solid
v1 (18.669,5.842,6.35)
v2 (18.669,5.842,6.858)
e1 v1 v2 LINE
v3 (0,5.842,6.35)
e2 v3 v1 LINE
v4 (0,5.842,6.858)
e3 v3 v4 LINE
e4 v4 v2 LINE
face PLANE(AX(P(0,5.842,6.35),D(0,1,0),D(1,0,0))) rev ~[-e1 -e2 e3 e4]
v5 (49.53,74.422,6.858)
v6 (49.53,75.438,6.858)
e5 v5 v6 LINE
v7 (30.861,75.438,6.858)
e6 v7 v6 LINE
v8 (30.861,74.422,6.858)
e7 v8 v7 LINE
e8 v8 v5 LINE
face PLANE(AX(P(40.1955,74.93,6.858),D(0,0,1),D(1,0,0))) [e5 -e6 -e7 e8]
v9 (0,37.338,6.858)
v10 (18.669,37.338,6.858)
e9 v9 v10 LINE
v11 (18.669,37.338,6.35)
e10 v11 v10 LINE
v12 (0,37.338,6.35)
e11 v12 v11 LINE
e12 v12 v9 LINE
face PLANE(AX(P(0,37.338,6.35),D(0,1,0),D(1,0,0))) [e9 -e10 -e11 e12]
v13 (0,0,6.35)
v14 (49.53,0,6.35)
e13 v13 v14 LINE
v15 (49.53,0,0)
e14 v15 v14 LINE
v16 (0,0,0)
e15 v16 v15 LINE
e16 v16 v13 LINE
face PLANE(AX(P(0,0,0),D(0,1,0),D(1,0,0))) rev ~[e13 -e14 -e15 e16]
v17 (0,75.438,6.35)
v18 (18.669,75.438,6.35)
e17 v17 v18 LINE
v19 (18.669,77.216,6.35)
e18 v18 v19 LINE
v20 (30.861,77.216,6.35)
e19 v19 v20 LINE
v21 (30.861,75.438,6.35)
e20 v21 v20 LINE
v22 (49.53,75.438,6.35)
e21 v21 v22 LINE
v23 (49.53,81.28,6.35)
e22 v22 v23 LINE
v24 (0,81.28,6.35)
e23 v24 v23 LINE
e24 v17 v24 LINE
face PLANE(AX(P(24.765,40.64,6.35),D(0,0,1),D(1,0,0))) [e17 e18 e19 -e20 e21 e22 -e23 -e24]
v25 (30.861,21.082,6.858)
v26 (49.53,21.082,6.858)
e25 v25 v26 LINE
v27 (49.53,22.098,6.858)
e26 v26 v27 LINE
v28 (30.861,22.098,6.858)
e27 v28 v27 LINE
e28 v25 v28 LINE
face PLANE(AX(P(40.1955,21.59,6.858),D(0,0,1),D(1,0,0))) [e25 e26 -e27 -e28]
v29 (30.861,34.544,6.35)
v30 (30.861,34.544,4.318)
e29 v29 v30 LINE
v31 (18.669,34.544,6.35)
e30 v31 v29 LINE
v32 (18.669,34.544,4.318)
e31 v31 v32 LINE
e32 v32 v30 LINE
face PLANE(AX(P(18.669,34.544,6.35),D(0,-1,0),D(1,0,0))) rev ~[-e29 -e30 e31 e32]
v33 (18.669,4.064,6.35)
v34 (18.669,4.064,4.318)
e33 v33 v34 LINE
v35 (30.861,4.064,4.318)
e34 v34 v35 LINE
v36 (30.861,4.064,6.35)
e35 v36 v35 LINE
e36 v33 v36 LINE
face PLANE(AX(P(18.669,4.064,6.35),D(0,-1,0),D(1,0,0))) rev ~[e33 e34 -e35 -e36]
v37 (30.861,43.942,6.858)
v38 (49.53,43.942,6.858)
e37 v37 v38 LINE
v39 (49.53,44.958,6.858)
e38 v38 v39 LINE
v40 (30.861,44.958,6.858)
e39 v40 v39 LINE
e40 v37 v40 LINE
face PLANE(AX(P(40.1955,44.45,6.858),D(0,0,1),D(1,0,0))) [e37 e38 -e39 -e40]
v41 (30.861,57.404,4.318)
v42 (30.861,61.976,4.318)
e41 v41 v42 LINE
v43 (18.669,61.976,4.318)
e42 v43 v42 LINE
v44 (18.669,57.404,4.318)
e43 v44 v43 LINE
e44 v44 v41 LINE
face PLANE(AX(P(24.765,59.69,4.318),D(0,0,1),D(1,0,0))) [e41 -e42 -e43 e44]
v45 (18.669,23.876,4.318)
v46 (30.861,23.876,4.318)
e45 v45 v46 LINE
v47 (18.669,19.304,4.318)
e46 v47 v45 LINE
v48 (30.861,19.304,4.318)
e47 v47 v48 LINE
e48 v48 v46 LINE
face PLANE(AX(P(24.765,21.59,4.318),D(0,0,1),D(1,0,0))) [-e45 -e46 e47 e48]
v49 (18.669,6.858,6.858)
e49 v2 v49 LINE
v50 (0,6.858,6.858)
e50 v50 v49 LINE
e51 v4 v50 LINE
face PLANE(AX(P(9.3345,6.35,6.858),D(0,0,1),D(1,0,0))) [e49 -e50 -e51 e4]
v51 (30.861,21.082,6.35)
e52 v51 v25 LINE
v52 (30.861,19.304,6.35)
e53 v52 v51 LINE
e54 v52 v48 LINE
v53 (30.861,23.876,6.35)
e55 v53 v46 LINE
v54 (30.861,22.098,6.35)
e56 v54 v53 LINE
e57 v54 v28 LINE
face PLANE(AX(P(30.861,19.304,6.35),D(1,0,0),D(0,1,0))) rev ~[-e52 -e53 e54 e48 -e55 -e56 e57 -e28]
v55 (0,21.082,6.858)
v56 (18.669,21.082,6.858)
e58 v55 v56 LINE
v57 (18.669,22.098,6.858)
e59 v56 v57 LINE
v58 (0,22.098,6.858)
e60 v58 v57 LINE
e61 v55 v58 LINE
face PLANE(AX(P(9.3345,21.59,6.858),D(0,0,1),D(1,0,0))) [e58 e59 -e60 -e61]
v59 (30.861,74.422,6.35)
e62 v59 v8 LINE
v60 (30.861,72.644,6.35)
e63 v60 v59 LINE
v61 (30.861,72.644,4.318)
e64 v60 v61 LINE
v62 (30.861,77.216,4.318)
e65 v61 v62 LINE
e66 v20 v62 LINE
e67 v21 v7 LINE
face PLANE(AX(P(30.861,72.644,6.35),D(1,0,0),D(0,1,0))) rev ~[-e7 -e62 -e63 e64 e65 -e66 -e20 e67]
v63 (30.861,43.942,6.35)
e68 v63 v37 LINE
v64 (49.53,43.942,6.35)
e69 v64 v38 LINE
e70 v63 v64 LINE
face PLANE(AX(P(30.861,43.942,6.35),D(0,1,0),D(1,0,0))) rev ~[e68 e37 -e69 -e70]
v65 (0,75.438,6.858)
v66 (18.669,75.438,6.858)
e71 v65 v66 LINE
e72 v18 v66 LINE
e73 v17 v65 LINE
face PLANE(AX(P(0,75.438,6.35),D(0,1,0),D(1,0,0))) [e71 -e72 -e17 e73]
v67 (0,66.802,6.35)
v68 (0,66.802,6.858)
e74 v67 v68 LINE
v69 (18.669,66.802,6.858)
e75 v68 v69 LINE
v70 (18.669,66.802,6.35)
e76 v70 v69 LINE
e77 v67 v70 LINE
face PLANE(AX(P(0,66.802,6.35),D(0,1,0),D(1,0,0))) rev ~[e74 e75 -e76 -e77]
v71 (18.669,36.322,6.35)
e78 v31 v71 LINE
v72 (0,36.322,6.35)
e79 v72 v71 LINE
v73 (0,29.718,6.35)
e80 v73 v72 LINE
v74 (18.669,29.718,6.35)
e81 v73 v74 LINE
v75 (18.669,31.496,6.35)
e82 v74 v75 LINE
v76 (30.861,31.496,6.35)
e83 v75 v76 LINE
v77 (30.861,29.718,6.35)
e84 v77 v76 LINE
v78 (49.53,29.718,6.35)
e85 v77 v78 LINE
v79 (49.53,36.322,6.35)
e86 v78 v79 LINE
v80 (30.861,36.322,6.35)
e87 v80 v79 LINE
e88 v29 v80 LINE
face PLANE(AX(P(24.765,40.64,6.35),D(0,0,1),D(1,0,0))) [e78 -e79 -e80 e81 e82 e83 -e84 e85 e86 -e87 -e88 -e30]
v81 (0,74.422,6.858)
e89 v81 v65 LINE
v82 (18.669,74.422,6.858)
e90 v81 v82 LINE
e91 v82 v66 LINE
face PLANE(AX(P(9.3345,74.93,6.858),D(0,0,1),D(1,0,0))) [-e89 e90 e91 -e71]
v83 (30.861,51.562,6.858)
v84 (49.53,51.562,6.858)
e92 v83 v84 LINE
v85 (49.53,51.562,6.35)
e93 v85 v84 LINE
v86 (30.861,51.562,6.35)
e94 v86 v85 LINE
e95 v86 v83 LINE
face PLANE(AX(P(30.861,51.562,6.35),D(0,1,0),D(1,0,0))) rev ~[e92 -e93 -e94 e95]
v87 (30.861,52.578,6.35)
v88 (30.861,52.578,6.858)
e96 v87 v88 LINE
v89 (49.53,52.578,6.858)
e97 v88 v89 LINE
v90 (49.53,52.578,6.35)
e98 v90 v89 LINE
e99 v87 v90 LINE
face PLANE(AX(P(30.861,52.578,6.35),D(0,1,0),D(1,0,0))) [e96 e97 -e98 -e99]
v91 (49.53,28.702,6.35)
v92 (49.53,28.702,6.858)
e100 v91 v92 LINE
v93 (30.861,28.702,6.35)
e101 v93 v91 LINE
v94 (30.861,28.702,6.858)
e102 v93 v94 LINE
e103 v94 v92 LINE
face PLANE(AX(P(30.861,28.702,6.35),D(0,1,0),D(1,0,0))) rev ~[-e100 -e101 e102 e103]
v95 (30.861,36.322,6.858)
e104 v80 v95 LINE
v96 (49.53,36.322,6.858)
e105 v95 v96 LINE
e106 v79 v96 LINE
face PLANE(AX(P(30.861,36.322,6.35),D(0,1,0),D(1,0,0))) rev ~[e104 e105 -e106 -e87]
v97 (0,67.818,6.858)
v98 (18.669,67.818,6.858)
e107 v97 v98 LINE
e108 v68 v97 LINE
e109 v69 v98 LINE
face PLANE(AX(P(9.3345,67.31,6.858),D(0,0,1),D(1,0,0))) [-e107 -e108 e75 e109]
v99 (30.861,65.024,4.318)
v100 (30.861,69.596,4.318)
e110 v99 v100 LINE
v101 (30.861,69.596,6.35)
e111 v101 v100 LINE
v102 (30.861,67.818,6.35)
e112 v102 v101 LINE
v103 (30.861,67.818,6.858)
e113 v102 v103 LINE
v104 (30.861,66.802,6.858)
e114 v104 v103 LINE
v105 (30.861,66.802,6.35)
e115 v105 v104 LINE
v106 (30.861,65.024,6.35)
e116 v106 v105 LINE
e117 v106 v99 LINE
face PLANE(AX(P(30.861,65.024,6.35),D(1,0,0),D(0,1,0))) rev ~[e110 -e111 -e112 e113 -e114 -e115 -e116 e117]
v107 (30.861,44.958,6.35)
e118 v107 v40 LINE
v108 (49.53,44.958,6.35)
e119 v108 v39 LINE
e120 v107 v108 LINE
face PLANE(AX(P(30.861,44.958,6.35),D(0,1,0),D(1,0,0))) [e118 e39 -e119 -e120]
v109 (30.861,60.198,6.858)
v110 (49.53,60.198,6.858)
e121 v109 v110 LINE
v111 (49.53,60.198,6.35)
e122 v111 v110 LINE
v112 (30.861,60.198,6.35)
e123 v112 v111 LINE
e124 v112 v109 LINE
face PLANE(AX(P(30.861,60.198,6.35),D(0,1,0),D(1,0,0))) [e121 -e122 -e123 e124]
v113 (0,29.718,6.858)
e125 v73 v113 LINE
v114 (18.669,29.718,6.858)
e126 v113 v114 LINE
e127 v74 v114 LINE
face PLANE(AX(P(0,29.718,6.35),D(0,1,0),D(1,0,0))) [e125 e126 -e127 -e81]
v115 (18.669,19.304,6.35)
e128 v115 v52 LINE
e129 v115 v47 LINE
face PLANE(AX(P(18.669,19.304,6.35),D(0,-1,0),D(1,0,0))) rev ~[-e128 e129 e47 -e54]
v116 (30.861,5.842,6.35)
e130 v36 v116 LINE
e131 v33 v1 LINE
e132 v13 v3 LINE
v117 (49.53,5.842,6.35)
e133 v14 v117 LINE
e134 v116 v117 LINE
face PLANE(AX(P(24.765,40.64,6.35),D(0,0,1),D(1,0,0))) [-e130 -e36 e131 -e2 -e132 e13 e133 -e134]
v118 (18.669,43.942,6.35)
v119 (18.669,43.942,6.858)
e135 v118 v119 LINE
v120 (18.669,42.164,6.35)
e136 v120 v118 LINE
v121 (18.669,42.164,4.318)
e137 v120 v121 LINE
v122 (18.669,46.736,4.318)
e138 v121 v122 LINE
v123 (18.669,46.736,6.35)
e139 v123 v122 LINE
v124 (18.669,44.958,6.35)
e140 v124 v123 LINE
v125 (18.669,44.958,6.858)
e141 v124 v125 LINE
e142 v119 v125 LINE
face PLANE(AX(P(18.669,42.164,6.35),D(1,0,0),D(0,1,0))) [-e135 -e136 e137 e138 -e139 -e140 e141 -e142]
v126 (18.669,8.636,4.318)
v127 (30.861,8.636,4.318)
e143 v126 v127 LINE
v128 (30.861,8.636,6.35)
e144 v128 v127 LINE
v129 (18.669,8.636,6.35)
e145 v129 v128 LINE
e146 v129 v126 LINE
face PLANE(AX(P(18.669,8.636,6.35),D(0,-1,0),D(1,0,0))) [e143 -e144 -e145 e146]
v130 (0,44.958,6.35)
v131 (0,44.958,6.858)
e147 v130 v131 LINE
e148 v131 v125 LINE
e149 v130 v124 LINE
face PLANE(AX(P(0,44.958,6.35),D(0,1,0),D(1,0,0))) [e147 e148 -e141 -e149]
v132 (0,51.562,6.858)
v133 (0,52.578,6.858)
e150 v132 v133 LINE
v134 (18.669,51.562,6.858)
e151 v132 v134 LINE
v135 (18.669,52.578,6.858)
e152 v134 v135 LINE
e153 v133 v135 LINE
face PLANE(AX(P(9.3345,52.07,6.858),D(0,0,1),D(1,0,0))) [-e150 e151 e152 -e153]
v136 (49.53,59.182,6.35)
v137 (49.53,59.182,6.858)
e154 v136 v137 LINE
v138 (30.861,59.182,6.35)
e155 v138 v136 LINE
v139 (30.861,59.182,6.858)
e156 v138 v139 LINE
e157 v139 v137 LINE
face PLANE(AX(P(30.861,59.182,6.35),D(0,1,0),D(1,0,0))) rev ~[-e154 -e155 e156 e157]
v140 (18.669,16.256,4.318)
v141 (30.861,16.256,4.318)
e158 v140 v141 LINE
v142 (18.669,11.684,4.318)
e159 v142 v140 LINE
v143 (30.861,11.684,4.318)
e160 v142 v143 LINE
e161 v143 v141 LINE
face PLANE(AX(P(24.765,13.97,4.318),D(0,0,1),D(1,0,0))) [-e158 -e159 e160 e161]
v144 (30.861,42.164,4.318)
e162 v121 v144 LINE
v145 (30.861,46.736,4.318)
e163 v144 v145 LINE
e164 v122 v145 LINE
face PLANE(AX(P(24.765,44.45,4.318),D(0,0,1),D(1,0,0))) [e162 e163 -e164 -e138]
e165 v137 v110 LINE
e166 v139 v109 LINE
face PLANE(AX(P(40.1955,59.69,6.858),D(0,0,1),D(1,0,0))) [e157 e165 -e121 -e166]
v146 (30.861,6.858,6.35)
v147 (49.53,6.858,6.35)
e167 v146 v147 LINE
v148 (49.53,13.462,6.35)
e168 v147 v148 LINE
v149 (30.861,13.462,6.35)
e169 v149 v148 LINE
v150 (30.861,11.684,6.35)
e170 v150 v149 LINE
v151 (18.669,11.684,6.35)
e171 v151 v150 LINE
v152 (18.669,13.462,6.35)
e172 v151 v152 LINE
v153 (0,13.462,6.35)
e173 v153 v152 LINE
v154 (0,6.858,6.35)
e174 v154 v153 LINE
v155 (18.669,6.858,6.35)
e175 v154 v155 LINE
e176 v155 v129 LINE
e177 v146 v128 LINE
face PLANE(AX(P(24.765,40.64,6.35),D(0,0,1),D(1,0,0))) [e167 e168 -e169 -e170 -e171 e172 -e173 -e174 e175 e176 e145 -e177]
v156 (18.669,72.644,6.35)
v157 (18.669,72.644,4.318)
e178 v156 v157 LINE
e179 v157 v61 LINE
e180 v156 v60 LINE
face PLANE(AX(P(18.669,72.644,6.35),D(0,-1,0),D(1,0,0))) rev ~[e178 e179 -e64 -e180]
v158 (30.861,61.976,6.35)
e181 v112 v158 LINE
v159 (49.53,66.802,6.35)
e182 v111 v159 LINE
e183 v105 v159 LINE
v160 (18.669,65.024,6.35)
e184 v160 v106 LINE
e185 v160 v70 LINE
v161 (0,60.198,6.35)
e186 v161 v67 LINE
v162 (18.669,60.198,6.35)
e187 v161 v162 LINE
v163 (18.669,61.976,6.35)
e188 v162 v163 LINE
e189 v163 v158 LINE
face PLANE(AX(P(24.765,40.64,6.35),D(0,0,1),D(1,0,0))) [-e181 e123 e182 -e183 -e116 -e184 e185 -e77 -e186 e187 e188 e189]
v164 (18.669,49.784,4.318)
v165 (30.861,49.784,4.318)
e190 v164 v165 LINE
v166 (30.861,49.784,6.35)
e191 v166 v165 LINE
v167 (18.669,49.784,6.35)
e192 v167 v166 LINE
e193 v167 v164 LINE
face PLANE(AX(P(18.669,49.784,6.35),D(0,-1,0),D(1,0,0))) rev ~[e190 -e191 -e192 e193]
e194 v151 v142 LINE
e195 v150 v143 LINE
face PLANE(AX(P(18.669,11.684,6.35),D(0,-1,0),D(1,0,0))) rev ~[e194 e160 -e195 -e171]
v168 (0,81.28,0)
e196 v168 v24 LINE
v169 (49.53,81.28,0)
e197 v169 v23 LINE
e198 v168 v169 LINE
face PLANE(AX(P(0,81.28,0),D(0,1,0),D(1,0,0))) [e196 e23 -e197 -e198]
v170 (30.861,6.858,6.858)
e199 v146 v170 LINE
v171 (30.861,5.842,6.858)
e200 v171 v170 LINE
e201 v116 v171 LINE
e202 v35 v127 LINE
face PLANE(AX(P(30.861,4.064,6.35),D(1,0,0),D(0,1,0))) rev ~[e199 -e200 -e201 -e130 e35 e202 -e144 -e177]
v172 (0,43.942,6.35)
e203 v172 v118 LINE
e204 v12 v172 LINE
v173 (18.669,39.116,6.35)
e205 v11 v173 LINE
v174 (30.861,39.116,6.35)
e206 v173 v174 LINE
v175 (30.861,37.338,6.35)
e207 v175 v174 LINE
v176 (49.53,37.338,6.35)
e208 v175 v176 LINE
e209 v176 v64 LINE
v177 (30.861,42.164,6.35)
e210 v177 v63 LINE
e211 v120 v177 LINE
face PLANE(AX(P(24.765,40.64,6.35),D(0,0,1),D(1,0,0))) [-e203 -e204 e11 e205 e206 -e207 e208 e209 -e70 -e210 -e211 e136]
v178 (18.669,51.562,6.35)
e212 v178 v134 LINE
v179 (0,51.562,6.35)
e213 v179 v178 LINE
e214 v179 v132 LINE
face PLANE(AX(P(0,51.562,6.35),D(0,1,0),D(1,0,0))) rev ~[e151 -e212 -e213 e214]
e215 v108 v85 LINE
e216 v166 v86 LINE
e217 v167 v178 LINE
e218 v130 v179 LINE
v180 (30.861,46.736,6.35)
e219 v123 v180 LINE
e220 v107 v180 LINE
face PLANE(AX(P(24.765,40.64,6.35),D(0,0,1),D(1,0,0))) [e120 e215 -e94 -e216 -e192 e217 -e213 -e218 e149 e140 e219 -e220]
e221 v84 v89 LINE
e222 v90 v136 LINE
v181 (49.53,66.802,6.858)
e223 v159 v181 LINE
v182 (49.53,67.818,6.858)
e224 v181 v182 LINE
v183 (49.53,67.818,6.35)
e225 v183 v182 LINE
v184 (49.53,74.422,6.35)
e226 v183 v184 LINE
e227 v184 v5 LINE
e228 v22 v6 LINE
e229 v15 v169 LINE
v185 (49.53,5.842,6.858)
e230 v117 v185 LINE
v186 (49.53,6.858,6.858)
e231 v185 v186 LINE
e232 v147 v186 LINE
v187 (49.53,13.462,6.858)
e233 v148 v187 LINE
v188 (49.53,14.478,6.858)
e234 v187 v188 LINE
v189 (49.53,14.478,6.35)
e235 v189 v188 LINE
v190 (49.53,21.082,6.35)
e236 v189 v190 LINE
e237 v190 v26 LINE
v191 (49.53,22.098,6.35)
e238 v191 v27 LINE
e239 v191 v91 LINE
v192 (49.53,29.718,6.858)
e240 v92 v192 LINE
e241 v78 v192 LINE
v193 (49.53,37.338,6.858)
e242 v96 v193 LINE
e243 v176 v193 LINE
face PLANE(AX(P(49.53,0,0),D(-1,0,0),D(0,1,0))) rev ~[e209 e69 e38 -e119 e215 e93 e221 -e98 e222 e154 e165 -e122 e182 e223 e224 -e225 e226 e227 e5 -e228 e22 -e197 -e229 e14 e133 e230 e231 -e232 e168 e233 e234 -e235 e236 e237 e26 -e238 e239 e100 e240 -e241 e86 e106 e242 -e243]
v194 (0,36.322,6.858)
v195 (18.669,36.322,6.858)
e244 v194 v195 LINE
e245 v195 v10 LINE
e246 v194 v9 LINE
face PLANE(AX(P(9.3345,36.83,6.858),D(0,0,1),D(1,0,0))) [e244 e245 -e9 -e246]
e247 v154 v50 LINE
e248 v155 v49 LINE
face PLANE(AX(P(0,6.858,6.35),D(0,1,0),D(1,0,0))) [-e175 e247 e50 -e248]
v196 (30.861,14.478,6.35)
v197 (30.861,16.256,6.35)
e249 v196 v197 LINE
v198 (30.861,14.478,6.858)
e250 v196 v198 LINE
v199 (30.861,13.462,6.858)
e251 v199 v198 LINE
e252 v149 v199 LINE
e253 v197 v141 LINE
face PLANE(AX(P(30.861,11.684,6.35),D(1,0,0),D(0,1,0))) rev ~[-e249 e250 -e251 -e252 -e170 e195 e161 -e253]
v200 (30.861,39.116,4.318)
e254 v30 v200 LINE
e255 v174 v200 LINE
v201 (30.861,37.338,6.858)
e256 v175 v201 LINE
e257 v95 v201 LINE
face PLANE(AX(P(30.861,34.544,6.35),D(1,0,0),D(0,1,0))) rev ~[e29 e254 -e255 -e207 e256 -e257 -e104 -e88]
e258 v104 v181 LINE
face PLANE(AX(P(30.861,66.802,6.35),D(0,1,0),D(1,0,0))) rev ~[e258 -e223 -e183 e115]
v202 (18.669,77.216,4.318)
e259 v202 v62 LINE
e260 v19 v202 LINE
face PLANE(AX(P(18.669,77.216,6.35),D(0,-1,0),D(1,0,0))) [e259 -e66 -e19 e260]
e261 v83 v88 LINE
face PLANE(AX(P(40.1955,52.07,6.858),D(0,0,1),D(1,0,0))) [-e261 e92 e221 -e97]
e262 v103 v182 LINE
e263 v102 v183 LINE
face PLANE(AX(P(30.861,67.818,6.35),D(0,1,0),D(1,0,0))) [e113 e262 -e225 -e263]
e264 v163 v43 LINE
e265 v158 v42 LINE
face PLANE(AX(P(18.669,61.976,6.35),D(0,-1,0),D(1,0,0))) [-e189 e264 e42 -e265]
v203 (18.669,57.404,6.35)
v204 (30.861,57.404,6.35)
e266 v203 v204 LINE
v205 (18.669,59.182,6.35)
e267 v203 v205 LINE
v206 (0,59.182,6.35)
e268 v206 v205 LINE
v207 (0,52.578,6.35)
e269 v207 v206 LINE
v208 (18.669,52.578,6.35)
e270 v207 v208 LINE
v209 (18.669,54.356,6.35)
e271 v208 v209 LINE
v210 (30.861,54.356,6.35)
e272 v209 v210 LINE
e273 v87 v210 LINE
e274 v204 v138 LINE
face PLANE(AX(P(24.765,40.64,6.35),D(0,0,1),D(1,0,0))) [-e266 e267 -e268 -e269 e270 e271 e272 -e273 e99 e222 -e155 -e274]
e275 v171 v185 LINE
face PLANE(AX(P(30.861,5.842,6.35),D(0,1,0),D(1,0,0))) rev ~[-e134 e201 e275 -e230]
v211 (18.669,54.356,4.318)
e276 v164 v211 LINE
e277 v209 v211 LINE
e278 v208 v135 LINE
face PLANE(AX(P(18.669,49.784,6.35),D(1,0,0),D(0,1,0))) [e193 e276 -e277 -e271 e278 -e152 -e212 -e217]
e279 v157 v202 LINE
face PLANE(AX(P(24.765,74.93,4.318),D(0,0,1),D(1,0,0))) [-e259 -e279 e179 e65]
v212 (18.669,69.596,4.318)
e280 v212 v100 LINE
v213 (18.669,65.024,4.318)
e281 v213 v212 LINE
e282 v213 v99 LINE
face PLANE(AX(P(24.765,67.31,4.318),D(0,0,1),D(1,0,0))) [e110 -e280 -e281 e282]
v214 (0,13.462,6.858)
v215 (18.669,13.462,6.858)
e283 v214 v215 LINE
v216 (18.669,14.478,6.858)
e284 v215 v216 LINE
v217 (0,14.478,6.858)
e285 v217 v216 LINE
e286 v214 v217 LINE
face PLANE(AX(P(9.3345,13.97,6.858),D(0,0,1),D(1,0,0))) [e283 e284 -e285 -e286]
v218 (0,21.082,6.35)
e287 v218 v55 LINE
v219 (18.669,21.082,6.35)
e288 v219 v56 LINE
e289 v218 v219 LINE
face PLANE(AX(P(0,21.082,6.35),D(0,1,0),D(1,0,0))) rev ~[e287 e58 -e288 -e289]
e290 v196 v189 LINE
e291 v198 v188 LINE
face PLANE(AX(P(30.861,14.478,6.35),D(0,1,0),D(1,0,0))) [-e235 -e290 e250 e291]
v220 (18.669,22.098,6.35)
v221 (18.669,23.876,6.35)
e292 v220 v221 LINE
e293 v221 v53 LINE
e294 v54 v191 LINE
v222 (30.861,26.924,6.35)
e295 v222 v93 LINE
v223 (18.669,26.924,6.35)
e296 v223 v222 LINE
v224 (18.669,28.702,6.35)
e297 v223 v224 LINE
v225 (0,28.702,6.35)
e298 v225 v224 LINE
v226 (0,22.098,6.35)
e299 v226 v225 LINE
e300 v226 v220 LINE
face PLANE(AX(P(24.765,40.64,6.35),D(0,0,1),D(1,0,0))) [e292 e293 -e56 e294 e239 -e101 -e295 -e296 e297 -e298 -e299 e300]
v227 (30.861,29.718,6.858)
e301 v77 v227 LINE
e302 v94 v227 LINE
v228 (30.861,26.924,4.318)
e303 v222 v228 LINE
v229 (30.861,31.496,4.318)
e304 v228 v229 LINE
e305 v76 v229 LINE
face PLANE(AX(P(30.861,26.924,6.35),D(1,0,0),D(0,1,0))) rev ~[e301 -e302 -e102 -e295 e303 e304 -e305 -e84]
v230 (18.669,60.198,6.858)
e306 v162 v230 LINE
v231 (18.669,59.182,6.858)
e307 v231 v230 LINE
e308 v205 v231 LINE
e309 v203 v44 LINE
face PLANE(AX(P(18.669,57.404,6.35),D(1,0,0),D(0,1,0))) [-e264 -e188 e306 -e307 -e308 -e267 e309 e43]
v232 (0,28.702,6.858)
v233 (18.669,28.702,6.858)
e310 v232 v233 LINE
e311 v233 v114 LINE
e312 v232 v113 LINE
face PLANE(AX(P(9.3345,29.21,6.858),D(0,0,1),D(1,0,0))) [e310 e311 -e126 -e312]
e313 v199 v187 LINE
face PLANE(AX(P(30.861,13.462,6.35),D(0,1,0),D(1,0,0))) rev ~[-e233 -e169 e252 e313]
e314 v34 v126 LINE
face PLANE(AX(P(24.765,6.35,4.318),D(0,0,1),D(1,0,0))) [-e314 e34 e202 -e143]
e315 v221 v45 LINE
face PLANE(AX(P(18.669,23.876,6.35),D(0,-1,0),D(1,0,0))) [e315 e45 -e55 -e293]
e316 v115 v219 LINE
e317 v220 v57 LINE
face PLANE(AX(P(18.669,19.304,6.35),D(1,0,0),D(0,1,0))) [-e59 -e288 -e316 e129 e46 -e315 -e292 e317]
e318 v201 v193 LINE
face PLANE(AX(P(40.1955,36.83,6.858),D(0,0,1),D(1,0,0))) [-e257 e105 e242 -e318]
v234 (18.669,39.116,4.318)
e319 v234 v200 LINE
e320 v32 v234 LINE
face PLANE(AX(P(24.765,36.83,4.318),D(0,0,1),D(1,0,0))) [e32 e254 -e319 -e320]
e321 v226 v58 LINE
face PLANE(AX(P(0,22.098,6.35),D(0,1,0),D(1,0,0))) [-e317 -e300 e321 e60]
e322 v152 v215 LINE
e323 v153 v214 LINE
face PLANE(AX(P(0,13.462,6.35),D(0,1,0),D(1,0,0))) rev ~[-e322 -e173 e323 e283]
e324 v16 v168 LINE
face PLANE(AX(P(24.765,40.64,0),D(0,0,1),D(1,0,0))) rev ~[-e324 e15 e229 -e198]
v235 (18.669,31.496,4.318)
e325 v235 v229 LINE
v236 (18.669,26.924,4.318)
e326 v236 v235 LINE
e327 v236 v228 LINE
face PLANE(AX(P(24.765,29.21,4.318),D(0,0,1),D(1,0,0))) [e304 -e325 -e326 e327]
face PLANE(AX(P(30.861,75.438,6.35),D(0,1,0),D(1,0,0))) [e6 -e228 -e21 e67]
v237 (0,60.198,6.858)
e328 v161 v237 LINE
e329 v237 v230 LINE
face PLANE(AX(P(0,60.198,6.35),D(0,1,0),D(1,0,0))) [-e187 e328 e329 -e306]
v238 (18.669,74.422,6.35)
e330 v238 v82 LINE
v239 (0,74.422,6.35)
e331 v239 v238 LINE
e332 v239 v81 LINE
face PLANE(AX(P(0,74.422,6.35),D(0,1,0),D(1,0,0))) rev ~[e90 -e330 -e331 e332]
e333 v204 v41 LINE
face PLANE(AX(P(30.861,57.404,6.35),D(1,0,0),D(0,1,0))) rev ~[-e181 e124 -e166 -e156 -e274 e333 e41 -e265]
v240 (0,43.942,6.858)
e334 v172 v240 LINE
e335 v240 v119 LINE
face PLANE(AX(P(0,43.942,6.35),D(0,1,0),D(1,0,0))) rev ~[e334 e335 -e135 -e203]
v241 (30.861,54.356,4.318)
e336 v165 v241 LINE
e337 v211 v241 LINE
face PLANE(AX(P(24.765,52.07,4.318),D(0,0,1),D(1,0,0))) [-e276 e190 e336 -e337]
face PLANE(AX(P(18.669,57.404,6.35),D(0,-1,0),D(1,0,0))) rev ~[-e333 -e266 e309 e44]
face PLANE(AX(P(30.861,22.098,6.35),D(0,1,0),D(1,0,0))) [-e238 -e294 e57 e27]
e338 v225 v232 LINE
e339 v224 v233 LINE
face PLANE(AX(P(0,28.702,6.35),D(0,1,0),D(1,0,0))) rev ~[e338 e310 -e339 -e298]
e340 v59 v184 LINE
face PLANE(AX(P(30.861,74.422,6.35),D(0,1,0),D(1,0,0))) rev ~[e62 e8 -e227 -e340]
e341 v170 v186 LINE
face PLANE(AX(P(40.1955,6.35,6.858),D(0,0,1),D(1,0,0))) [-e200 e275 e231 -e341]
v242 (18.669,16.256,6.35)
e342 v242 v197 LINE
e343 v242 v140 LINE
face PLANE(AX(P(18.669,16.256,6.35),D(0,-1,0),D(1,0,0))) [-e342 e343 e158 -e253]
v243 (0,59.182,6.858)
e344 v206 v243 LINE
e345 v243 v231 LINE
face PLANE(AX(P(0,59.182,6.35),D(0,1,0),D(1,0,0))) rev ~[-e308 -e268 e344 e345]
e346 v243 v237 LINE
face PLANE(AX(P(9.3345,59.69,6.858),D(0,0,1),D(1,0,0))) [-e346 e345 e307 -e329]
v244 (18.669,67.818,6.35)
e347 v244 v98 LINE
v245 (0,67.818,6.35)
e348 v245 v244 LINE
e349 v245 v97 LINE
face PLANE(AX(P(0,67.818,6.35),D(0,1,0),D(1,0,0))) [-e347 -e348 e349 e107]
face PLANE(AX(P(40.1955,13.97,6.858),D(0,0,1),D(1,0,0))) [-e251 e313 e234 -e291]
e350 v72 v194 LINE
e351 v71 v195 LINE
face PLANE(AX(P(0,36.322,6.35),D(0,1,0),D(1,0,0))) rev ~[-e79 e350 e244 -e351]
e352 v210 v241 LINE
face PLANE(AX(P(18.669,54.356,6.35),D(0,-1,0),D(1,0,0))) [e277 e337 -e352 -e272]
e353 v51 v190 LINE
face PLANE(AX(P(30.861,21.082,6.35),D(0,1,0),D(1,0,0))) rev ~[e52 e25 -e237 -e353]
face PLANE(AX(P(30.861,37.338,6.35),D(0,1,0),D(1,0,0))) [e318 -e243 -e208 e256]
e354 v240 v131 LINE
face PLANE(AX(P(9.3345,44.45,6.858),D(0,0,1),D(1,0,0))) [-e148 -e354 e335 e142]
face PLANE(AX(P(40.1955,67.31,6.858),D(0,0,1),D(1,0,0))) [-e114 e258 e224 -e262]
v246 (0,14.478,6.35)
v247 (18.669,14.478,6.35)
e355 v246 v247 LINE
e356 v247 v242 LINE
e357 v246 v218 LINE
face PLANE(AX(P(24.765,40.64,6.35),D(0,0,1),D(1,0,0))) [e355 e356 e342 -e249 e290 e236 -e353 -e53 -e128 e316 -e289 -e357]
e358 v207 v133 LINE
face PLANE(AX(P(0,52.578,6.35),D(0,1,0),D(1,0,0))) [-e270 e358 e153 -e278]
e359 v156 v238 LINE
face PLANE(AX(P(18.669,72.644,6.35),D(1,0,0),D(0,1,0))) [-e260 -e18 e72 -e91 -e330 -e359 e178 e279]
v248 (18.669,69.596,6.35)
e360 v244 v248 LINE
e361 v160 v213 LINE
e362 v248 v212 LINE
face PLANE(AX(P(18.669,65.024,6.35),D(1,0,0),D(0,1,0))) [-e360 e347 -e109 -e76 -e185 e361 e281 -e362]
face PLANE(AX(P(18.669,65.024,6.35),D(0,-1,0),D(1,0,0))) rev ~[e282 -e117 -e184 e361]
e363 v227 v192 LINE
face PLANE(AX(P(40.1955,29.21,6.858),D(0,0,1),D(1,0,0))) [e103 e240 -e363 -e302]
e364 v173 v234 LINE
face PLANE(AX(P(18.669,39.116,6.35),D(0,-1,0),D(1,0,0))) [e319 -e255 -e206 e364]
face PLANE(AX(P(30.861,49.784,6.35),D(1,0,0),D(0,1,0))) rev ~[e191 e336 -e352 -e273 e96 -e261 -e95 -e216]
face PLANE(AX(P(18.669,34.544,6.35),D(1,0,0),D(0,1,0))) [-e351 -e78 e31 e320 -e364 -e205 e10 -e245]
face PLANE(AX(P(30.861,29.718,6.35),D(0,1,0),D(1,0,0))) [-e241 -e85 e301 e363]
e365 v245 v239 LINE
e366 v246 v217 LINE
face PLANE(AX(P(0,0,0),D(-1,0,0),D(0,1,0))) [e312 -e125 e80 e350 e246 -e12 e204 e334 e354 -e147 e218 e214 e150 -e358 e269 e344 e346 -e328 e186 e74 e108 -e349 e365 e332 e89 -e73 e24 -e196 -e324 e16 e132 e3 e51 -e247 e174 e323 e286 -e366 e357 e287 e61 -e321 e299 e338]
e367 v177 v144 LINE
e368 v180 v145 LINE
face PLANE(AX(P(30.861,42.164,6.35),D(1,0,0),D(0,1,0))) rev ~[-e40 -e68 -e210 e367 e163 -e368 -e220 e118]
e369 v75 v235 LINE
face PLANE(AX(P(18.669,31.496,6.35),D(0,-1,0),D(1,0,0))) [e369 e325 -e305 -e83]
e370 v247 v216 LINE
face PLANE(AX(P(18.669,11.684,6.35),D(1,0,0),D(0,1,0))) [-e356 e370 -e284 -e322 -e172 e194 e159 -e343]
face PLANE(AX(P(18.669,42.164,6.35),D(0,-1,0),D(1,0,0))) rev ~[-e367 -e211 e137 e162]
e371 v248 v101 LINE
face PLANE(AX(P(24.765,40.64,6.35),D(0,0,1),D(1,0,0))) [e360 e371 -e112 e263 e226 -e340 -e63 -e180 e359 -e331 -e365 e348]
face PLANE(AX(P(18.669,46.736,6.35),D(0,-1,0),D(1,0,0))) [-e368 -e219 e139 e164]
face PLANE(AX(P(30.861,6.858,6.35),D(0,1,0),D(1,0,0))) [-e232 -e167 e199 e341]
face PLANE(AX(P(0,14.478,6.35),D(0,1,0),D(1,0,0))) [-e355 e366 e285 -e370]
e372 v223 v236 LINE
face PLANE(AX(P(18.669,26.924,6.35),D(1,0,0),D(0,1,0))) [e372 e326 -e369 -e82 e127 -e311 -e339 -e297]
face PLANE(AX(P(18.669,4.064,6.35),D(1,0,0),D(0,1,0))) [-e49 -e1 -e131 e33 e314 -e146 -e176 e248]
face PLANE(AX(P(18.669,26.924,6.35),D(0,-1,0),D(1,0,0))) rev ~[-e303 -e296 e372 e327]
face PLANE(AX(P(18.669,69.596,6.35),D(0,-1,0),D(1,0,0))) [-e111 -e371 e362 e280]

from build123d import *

# Parameters (mm, degrees)
F0_W     = 49.53
F0_H     = 81.28
F1_DEPTH = 6.35
F2_W     = 12.192
F2_H     = 4.572
F3_DEPTH = 2.032
F4_W     = 18.669
F4_H     = 1.016
F5_DEPTH = 0.508


with BuildPart() as f1:
    # F0 (on Top) → F1 (new body)
    with BuildSketch(Plane.XY):
        with Locations((24.765, 40.64)):
            Rectangle(F0_W, F0_H)
    extrude(amount=F1_DEPTH)

    # F2 (on face) → F3 (cut)
    with BuildSketch(Plane.XY.offset(6.35)):
        with Locations((24.765, 6.35)):
            Rectangle(F2_W, F2_H)
        with Locations((24.765, 13.97)):
            Rectangle(F2_W, F2_H)
        with Locations((24.765, 21.59)):
            Rectangle(F2_W, F2_H)
        with Locations((24.765, 29.21)):
            Rectangle(F2_W, F2_H)
        with Locations((24.765, 36.83)):
            Rectangle(F2_W, F2_H)
        with Locations((24.765, 44.45)):
            Rectangle(F2_W, F2_H)
        with Locations((24.765, 52.07)):
            Rectangle(F2_W, F2_H)
        with Locations((24.765, 59.69)):
            Rectangle(F2_W, F2_H)
        with Locations((24.765, 67.31)):
            Rectangle(F2_W, F2_H)
        with Locations((24.765, 74.93)):
            Rectangle(F2_W, F2_H)
    extrude(amount=-F3_DEPTH, mode=Mode.SUBTRACT)

    # F4 (on face) → F5 (join)
    with BuildSketch(Plane.XY.offset(6.35)):
        with Locations((40.1955, 6.35)):
            Rectangle(F4_W, F4_H)
        with Locations((9.3345, 6.35)):
            Rectangle(F4_W, F4_H)
        with Locations((9.3345, 13.97)):
            Rectangle(F4_W, F4_H)
        with Locations((40.1955, 13.97)):
            Rectangle(F4_W, F4_H)
        with Locations((9.3345, 21.59)):
            Rectangle(F4_W, F4_H)
        with Locations((40.1955, 21.59)):
            Rectangle(F4_W, F4_H)
        with Locations((9.3345, 29.21)):
            Rectangle(F4_W, F4_H)
        with Locations((40.1955, 29.21)):
            Rectangle(F4_W, F4_H)
        with Locations((9.3345, 36.83)):
            Rectangle(F4_W, F4_H)
        with Locations((40.1955, 36.83)):
            Rectangle(F4_W, F4_H)
        with Locations((9.3345, 44.45)):
            Rectangle(F4_W, F4_H)
        with Locations((40.1955, 44.45)):
            Rectangle(F4_W, F4_H)
        with Locations((9.3345, 52.07)):
            Rectangle(F4_W, F4_H)
        with Locations((40.1955, 52.07)):
            Rectangle(F4_W, F4_H)
        with Locations((9.3345, 59.69)):
            Rectangle(F4_W, F4_H)
        with Locations((40.1955, 59.69)):
            Rectangle(F4_W, F4_H)
        with Locations((9.3345, 67.31)):
            Rectangle(F4_W, F4_H)
        with Locations((40.1955, 67.31)):
            Rectangle(F4_W, F4_H)
        with Locations((9.3345, 74.93)):
            Rectangle(F4_W, F4_H)
        with Locations((40.1955, 74.93)):
            Rectangle(F4_W, F4_H)
    extrude(amount=F5_DEPTH)


solid = f1.part
